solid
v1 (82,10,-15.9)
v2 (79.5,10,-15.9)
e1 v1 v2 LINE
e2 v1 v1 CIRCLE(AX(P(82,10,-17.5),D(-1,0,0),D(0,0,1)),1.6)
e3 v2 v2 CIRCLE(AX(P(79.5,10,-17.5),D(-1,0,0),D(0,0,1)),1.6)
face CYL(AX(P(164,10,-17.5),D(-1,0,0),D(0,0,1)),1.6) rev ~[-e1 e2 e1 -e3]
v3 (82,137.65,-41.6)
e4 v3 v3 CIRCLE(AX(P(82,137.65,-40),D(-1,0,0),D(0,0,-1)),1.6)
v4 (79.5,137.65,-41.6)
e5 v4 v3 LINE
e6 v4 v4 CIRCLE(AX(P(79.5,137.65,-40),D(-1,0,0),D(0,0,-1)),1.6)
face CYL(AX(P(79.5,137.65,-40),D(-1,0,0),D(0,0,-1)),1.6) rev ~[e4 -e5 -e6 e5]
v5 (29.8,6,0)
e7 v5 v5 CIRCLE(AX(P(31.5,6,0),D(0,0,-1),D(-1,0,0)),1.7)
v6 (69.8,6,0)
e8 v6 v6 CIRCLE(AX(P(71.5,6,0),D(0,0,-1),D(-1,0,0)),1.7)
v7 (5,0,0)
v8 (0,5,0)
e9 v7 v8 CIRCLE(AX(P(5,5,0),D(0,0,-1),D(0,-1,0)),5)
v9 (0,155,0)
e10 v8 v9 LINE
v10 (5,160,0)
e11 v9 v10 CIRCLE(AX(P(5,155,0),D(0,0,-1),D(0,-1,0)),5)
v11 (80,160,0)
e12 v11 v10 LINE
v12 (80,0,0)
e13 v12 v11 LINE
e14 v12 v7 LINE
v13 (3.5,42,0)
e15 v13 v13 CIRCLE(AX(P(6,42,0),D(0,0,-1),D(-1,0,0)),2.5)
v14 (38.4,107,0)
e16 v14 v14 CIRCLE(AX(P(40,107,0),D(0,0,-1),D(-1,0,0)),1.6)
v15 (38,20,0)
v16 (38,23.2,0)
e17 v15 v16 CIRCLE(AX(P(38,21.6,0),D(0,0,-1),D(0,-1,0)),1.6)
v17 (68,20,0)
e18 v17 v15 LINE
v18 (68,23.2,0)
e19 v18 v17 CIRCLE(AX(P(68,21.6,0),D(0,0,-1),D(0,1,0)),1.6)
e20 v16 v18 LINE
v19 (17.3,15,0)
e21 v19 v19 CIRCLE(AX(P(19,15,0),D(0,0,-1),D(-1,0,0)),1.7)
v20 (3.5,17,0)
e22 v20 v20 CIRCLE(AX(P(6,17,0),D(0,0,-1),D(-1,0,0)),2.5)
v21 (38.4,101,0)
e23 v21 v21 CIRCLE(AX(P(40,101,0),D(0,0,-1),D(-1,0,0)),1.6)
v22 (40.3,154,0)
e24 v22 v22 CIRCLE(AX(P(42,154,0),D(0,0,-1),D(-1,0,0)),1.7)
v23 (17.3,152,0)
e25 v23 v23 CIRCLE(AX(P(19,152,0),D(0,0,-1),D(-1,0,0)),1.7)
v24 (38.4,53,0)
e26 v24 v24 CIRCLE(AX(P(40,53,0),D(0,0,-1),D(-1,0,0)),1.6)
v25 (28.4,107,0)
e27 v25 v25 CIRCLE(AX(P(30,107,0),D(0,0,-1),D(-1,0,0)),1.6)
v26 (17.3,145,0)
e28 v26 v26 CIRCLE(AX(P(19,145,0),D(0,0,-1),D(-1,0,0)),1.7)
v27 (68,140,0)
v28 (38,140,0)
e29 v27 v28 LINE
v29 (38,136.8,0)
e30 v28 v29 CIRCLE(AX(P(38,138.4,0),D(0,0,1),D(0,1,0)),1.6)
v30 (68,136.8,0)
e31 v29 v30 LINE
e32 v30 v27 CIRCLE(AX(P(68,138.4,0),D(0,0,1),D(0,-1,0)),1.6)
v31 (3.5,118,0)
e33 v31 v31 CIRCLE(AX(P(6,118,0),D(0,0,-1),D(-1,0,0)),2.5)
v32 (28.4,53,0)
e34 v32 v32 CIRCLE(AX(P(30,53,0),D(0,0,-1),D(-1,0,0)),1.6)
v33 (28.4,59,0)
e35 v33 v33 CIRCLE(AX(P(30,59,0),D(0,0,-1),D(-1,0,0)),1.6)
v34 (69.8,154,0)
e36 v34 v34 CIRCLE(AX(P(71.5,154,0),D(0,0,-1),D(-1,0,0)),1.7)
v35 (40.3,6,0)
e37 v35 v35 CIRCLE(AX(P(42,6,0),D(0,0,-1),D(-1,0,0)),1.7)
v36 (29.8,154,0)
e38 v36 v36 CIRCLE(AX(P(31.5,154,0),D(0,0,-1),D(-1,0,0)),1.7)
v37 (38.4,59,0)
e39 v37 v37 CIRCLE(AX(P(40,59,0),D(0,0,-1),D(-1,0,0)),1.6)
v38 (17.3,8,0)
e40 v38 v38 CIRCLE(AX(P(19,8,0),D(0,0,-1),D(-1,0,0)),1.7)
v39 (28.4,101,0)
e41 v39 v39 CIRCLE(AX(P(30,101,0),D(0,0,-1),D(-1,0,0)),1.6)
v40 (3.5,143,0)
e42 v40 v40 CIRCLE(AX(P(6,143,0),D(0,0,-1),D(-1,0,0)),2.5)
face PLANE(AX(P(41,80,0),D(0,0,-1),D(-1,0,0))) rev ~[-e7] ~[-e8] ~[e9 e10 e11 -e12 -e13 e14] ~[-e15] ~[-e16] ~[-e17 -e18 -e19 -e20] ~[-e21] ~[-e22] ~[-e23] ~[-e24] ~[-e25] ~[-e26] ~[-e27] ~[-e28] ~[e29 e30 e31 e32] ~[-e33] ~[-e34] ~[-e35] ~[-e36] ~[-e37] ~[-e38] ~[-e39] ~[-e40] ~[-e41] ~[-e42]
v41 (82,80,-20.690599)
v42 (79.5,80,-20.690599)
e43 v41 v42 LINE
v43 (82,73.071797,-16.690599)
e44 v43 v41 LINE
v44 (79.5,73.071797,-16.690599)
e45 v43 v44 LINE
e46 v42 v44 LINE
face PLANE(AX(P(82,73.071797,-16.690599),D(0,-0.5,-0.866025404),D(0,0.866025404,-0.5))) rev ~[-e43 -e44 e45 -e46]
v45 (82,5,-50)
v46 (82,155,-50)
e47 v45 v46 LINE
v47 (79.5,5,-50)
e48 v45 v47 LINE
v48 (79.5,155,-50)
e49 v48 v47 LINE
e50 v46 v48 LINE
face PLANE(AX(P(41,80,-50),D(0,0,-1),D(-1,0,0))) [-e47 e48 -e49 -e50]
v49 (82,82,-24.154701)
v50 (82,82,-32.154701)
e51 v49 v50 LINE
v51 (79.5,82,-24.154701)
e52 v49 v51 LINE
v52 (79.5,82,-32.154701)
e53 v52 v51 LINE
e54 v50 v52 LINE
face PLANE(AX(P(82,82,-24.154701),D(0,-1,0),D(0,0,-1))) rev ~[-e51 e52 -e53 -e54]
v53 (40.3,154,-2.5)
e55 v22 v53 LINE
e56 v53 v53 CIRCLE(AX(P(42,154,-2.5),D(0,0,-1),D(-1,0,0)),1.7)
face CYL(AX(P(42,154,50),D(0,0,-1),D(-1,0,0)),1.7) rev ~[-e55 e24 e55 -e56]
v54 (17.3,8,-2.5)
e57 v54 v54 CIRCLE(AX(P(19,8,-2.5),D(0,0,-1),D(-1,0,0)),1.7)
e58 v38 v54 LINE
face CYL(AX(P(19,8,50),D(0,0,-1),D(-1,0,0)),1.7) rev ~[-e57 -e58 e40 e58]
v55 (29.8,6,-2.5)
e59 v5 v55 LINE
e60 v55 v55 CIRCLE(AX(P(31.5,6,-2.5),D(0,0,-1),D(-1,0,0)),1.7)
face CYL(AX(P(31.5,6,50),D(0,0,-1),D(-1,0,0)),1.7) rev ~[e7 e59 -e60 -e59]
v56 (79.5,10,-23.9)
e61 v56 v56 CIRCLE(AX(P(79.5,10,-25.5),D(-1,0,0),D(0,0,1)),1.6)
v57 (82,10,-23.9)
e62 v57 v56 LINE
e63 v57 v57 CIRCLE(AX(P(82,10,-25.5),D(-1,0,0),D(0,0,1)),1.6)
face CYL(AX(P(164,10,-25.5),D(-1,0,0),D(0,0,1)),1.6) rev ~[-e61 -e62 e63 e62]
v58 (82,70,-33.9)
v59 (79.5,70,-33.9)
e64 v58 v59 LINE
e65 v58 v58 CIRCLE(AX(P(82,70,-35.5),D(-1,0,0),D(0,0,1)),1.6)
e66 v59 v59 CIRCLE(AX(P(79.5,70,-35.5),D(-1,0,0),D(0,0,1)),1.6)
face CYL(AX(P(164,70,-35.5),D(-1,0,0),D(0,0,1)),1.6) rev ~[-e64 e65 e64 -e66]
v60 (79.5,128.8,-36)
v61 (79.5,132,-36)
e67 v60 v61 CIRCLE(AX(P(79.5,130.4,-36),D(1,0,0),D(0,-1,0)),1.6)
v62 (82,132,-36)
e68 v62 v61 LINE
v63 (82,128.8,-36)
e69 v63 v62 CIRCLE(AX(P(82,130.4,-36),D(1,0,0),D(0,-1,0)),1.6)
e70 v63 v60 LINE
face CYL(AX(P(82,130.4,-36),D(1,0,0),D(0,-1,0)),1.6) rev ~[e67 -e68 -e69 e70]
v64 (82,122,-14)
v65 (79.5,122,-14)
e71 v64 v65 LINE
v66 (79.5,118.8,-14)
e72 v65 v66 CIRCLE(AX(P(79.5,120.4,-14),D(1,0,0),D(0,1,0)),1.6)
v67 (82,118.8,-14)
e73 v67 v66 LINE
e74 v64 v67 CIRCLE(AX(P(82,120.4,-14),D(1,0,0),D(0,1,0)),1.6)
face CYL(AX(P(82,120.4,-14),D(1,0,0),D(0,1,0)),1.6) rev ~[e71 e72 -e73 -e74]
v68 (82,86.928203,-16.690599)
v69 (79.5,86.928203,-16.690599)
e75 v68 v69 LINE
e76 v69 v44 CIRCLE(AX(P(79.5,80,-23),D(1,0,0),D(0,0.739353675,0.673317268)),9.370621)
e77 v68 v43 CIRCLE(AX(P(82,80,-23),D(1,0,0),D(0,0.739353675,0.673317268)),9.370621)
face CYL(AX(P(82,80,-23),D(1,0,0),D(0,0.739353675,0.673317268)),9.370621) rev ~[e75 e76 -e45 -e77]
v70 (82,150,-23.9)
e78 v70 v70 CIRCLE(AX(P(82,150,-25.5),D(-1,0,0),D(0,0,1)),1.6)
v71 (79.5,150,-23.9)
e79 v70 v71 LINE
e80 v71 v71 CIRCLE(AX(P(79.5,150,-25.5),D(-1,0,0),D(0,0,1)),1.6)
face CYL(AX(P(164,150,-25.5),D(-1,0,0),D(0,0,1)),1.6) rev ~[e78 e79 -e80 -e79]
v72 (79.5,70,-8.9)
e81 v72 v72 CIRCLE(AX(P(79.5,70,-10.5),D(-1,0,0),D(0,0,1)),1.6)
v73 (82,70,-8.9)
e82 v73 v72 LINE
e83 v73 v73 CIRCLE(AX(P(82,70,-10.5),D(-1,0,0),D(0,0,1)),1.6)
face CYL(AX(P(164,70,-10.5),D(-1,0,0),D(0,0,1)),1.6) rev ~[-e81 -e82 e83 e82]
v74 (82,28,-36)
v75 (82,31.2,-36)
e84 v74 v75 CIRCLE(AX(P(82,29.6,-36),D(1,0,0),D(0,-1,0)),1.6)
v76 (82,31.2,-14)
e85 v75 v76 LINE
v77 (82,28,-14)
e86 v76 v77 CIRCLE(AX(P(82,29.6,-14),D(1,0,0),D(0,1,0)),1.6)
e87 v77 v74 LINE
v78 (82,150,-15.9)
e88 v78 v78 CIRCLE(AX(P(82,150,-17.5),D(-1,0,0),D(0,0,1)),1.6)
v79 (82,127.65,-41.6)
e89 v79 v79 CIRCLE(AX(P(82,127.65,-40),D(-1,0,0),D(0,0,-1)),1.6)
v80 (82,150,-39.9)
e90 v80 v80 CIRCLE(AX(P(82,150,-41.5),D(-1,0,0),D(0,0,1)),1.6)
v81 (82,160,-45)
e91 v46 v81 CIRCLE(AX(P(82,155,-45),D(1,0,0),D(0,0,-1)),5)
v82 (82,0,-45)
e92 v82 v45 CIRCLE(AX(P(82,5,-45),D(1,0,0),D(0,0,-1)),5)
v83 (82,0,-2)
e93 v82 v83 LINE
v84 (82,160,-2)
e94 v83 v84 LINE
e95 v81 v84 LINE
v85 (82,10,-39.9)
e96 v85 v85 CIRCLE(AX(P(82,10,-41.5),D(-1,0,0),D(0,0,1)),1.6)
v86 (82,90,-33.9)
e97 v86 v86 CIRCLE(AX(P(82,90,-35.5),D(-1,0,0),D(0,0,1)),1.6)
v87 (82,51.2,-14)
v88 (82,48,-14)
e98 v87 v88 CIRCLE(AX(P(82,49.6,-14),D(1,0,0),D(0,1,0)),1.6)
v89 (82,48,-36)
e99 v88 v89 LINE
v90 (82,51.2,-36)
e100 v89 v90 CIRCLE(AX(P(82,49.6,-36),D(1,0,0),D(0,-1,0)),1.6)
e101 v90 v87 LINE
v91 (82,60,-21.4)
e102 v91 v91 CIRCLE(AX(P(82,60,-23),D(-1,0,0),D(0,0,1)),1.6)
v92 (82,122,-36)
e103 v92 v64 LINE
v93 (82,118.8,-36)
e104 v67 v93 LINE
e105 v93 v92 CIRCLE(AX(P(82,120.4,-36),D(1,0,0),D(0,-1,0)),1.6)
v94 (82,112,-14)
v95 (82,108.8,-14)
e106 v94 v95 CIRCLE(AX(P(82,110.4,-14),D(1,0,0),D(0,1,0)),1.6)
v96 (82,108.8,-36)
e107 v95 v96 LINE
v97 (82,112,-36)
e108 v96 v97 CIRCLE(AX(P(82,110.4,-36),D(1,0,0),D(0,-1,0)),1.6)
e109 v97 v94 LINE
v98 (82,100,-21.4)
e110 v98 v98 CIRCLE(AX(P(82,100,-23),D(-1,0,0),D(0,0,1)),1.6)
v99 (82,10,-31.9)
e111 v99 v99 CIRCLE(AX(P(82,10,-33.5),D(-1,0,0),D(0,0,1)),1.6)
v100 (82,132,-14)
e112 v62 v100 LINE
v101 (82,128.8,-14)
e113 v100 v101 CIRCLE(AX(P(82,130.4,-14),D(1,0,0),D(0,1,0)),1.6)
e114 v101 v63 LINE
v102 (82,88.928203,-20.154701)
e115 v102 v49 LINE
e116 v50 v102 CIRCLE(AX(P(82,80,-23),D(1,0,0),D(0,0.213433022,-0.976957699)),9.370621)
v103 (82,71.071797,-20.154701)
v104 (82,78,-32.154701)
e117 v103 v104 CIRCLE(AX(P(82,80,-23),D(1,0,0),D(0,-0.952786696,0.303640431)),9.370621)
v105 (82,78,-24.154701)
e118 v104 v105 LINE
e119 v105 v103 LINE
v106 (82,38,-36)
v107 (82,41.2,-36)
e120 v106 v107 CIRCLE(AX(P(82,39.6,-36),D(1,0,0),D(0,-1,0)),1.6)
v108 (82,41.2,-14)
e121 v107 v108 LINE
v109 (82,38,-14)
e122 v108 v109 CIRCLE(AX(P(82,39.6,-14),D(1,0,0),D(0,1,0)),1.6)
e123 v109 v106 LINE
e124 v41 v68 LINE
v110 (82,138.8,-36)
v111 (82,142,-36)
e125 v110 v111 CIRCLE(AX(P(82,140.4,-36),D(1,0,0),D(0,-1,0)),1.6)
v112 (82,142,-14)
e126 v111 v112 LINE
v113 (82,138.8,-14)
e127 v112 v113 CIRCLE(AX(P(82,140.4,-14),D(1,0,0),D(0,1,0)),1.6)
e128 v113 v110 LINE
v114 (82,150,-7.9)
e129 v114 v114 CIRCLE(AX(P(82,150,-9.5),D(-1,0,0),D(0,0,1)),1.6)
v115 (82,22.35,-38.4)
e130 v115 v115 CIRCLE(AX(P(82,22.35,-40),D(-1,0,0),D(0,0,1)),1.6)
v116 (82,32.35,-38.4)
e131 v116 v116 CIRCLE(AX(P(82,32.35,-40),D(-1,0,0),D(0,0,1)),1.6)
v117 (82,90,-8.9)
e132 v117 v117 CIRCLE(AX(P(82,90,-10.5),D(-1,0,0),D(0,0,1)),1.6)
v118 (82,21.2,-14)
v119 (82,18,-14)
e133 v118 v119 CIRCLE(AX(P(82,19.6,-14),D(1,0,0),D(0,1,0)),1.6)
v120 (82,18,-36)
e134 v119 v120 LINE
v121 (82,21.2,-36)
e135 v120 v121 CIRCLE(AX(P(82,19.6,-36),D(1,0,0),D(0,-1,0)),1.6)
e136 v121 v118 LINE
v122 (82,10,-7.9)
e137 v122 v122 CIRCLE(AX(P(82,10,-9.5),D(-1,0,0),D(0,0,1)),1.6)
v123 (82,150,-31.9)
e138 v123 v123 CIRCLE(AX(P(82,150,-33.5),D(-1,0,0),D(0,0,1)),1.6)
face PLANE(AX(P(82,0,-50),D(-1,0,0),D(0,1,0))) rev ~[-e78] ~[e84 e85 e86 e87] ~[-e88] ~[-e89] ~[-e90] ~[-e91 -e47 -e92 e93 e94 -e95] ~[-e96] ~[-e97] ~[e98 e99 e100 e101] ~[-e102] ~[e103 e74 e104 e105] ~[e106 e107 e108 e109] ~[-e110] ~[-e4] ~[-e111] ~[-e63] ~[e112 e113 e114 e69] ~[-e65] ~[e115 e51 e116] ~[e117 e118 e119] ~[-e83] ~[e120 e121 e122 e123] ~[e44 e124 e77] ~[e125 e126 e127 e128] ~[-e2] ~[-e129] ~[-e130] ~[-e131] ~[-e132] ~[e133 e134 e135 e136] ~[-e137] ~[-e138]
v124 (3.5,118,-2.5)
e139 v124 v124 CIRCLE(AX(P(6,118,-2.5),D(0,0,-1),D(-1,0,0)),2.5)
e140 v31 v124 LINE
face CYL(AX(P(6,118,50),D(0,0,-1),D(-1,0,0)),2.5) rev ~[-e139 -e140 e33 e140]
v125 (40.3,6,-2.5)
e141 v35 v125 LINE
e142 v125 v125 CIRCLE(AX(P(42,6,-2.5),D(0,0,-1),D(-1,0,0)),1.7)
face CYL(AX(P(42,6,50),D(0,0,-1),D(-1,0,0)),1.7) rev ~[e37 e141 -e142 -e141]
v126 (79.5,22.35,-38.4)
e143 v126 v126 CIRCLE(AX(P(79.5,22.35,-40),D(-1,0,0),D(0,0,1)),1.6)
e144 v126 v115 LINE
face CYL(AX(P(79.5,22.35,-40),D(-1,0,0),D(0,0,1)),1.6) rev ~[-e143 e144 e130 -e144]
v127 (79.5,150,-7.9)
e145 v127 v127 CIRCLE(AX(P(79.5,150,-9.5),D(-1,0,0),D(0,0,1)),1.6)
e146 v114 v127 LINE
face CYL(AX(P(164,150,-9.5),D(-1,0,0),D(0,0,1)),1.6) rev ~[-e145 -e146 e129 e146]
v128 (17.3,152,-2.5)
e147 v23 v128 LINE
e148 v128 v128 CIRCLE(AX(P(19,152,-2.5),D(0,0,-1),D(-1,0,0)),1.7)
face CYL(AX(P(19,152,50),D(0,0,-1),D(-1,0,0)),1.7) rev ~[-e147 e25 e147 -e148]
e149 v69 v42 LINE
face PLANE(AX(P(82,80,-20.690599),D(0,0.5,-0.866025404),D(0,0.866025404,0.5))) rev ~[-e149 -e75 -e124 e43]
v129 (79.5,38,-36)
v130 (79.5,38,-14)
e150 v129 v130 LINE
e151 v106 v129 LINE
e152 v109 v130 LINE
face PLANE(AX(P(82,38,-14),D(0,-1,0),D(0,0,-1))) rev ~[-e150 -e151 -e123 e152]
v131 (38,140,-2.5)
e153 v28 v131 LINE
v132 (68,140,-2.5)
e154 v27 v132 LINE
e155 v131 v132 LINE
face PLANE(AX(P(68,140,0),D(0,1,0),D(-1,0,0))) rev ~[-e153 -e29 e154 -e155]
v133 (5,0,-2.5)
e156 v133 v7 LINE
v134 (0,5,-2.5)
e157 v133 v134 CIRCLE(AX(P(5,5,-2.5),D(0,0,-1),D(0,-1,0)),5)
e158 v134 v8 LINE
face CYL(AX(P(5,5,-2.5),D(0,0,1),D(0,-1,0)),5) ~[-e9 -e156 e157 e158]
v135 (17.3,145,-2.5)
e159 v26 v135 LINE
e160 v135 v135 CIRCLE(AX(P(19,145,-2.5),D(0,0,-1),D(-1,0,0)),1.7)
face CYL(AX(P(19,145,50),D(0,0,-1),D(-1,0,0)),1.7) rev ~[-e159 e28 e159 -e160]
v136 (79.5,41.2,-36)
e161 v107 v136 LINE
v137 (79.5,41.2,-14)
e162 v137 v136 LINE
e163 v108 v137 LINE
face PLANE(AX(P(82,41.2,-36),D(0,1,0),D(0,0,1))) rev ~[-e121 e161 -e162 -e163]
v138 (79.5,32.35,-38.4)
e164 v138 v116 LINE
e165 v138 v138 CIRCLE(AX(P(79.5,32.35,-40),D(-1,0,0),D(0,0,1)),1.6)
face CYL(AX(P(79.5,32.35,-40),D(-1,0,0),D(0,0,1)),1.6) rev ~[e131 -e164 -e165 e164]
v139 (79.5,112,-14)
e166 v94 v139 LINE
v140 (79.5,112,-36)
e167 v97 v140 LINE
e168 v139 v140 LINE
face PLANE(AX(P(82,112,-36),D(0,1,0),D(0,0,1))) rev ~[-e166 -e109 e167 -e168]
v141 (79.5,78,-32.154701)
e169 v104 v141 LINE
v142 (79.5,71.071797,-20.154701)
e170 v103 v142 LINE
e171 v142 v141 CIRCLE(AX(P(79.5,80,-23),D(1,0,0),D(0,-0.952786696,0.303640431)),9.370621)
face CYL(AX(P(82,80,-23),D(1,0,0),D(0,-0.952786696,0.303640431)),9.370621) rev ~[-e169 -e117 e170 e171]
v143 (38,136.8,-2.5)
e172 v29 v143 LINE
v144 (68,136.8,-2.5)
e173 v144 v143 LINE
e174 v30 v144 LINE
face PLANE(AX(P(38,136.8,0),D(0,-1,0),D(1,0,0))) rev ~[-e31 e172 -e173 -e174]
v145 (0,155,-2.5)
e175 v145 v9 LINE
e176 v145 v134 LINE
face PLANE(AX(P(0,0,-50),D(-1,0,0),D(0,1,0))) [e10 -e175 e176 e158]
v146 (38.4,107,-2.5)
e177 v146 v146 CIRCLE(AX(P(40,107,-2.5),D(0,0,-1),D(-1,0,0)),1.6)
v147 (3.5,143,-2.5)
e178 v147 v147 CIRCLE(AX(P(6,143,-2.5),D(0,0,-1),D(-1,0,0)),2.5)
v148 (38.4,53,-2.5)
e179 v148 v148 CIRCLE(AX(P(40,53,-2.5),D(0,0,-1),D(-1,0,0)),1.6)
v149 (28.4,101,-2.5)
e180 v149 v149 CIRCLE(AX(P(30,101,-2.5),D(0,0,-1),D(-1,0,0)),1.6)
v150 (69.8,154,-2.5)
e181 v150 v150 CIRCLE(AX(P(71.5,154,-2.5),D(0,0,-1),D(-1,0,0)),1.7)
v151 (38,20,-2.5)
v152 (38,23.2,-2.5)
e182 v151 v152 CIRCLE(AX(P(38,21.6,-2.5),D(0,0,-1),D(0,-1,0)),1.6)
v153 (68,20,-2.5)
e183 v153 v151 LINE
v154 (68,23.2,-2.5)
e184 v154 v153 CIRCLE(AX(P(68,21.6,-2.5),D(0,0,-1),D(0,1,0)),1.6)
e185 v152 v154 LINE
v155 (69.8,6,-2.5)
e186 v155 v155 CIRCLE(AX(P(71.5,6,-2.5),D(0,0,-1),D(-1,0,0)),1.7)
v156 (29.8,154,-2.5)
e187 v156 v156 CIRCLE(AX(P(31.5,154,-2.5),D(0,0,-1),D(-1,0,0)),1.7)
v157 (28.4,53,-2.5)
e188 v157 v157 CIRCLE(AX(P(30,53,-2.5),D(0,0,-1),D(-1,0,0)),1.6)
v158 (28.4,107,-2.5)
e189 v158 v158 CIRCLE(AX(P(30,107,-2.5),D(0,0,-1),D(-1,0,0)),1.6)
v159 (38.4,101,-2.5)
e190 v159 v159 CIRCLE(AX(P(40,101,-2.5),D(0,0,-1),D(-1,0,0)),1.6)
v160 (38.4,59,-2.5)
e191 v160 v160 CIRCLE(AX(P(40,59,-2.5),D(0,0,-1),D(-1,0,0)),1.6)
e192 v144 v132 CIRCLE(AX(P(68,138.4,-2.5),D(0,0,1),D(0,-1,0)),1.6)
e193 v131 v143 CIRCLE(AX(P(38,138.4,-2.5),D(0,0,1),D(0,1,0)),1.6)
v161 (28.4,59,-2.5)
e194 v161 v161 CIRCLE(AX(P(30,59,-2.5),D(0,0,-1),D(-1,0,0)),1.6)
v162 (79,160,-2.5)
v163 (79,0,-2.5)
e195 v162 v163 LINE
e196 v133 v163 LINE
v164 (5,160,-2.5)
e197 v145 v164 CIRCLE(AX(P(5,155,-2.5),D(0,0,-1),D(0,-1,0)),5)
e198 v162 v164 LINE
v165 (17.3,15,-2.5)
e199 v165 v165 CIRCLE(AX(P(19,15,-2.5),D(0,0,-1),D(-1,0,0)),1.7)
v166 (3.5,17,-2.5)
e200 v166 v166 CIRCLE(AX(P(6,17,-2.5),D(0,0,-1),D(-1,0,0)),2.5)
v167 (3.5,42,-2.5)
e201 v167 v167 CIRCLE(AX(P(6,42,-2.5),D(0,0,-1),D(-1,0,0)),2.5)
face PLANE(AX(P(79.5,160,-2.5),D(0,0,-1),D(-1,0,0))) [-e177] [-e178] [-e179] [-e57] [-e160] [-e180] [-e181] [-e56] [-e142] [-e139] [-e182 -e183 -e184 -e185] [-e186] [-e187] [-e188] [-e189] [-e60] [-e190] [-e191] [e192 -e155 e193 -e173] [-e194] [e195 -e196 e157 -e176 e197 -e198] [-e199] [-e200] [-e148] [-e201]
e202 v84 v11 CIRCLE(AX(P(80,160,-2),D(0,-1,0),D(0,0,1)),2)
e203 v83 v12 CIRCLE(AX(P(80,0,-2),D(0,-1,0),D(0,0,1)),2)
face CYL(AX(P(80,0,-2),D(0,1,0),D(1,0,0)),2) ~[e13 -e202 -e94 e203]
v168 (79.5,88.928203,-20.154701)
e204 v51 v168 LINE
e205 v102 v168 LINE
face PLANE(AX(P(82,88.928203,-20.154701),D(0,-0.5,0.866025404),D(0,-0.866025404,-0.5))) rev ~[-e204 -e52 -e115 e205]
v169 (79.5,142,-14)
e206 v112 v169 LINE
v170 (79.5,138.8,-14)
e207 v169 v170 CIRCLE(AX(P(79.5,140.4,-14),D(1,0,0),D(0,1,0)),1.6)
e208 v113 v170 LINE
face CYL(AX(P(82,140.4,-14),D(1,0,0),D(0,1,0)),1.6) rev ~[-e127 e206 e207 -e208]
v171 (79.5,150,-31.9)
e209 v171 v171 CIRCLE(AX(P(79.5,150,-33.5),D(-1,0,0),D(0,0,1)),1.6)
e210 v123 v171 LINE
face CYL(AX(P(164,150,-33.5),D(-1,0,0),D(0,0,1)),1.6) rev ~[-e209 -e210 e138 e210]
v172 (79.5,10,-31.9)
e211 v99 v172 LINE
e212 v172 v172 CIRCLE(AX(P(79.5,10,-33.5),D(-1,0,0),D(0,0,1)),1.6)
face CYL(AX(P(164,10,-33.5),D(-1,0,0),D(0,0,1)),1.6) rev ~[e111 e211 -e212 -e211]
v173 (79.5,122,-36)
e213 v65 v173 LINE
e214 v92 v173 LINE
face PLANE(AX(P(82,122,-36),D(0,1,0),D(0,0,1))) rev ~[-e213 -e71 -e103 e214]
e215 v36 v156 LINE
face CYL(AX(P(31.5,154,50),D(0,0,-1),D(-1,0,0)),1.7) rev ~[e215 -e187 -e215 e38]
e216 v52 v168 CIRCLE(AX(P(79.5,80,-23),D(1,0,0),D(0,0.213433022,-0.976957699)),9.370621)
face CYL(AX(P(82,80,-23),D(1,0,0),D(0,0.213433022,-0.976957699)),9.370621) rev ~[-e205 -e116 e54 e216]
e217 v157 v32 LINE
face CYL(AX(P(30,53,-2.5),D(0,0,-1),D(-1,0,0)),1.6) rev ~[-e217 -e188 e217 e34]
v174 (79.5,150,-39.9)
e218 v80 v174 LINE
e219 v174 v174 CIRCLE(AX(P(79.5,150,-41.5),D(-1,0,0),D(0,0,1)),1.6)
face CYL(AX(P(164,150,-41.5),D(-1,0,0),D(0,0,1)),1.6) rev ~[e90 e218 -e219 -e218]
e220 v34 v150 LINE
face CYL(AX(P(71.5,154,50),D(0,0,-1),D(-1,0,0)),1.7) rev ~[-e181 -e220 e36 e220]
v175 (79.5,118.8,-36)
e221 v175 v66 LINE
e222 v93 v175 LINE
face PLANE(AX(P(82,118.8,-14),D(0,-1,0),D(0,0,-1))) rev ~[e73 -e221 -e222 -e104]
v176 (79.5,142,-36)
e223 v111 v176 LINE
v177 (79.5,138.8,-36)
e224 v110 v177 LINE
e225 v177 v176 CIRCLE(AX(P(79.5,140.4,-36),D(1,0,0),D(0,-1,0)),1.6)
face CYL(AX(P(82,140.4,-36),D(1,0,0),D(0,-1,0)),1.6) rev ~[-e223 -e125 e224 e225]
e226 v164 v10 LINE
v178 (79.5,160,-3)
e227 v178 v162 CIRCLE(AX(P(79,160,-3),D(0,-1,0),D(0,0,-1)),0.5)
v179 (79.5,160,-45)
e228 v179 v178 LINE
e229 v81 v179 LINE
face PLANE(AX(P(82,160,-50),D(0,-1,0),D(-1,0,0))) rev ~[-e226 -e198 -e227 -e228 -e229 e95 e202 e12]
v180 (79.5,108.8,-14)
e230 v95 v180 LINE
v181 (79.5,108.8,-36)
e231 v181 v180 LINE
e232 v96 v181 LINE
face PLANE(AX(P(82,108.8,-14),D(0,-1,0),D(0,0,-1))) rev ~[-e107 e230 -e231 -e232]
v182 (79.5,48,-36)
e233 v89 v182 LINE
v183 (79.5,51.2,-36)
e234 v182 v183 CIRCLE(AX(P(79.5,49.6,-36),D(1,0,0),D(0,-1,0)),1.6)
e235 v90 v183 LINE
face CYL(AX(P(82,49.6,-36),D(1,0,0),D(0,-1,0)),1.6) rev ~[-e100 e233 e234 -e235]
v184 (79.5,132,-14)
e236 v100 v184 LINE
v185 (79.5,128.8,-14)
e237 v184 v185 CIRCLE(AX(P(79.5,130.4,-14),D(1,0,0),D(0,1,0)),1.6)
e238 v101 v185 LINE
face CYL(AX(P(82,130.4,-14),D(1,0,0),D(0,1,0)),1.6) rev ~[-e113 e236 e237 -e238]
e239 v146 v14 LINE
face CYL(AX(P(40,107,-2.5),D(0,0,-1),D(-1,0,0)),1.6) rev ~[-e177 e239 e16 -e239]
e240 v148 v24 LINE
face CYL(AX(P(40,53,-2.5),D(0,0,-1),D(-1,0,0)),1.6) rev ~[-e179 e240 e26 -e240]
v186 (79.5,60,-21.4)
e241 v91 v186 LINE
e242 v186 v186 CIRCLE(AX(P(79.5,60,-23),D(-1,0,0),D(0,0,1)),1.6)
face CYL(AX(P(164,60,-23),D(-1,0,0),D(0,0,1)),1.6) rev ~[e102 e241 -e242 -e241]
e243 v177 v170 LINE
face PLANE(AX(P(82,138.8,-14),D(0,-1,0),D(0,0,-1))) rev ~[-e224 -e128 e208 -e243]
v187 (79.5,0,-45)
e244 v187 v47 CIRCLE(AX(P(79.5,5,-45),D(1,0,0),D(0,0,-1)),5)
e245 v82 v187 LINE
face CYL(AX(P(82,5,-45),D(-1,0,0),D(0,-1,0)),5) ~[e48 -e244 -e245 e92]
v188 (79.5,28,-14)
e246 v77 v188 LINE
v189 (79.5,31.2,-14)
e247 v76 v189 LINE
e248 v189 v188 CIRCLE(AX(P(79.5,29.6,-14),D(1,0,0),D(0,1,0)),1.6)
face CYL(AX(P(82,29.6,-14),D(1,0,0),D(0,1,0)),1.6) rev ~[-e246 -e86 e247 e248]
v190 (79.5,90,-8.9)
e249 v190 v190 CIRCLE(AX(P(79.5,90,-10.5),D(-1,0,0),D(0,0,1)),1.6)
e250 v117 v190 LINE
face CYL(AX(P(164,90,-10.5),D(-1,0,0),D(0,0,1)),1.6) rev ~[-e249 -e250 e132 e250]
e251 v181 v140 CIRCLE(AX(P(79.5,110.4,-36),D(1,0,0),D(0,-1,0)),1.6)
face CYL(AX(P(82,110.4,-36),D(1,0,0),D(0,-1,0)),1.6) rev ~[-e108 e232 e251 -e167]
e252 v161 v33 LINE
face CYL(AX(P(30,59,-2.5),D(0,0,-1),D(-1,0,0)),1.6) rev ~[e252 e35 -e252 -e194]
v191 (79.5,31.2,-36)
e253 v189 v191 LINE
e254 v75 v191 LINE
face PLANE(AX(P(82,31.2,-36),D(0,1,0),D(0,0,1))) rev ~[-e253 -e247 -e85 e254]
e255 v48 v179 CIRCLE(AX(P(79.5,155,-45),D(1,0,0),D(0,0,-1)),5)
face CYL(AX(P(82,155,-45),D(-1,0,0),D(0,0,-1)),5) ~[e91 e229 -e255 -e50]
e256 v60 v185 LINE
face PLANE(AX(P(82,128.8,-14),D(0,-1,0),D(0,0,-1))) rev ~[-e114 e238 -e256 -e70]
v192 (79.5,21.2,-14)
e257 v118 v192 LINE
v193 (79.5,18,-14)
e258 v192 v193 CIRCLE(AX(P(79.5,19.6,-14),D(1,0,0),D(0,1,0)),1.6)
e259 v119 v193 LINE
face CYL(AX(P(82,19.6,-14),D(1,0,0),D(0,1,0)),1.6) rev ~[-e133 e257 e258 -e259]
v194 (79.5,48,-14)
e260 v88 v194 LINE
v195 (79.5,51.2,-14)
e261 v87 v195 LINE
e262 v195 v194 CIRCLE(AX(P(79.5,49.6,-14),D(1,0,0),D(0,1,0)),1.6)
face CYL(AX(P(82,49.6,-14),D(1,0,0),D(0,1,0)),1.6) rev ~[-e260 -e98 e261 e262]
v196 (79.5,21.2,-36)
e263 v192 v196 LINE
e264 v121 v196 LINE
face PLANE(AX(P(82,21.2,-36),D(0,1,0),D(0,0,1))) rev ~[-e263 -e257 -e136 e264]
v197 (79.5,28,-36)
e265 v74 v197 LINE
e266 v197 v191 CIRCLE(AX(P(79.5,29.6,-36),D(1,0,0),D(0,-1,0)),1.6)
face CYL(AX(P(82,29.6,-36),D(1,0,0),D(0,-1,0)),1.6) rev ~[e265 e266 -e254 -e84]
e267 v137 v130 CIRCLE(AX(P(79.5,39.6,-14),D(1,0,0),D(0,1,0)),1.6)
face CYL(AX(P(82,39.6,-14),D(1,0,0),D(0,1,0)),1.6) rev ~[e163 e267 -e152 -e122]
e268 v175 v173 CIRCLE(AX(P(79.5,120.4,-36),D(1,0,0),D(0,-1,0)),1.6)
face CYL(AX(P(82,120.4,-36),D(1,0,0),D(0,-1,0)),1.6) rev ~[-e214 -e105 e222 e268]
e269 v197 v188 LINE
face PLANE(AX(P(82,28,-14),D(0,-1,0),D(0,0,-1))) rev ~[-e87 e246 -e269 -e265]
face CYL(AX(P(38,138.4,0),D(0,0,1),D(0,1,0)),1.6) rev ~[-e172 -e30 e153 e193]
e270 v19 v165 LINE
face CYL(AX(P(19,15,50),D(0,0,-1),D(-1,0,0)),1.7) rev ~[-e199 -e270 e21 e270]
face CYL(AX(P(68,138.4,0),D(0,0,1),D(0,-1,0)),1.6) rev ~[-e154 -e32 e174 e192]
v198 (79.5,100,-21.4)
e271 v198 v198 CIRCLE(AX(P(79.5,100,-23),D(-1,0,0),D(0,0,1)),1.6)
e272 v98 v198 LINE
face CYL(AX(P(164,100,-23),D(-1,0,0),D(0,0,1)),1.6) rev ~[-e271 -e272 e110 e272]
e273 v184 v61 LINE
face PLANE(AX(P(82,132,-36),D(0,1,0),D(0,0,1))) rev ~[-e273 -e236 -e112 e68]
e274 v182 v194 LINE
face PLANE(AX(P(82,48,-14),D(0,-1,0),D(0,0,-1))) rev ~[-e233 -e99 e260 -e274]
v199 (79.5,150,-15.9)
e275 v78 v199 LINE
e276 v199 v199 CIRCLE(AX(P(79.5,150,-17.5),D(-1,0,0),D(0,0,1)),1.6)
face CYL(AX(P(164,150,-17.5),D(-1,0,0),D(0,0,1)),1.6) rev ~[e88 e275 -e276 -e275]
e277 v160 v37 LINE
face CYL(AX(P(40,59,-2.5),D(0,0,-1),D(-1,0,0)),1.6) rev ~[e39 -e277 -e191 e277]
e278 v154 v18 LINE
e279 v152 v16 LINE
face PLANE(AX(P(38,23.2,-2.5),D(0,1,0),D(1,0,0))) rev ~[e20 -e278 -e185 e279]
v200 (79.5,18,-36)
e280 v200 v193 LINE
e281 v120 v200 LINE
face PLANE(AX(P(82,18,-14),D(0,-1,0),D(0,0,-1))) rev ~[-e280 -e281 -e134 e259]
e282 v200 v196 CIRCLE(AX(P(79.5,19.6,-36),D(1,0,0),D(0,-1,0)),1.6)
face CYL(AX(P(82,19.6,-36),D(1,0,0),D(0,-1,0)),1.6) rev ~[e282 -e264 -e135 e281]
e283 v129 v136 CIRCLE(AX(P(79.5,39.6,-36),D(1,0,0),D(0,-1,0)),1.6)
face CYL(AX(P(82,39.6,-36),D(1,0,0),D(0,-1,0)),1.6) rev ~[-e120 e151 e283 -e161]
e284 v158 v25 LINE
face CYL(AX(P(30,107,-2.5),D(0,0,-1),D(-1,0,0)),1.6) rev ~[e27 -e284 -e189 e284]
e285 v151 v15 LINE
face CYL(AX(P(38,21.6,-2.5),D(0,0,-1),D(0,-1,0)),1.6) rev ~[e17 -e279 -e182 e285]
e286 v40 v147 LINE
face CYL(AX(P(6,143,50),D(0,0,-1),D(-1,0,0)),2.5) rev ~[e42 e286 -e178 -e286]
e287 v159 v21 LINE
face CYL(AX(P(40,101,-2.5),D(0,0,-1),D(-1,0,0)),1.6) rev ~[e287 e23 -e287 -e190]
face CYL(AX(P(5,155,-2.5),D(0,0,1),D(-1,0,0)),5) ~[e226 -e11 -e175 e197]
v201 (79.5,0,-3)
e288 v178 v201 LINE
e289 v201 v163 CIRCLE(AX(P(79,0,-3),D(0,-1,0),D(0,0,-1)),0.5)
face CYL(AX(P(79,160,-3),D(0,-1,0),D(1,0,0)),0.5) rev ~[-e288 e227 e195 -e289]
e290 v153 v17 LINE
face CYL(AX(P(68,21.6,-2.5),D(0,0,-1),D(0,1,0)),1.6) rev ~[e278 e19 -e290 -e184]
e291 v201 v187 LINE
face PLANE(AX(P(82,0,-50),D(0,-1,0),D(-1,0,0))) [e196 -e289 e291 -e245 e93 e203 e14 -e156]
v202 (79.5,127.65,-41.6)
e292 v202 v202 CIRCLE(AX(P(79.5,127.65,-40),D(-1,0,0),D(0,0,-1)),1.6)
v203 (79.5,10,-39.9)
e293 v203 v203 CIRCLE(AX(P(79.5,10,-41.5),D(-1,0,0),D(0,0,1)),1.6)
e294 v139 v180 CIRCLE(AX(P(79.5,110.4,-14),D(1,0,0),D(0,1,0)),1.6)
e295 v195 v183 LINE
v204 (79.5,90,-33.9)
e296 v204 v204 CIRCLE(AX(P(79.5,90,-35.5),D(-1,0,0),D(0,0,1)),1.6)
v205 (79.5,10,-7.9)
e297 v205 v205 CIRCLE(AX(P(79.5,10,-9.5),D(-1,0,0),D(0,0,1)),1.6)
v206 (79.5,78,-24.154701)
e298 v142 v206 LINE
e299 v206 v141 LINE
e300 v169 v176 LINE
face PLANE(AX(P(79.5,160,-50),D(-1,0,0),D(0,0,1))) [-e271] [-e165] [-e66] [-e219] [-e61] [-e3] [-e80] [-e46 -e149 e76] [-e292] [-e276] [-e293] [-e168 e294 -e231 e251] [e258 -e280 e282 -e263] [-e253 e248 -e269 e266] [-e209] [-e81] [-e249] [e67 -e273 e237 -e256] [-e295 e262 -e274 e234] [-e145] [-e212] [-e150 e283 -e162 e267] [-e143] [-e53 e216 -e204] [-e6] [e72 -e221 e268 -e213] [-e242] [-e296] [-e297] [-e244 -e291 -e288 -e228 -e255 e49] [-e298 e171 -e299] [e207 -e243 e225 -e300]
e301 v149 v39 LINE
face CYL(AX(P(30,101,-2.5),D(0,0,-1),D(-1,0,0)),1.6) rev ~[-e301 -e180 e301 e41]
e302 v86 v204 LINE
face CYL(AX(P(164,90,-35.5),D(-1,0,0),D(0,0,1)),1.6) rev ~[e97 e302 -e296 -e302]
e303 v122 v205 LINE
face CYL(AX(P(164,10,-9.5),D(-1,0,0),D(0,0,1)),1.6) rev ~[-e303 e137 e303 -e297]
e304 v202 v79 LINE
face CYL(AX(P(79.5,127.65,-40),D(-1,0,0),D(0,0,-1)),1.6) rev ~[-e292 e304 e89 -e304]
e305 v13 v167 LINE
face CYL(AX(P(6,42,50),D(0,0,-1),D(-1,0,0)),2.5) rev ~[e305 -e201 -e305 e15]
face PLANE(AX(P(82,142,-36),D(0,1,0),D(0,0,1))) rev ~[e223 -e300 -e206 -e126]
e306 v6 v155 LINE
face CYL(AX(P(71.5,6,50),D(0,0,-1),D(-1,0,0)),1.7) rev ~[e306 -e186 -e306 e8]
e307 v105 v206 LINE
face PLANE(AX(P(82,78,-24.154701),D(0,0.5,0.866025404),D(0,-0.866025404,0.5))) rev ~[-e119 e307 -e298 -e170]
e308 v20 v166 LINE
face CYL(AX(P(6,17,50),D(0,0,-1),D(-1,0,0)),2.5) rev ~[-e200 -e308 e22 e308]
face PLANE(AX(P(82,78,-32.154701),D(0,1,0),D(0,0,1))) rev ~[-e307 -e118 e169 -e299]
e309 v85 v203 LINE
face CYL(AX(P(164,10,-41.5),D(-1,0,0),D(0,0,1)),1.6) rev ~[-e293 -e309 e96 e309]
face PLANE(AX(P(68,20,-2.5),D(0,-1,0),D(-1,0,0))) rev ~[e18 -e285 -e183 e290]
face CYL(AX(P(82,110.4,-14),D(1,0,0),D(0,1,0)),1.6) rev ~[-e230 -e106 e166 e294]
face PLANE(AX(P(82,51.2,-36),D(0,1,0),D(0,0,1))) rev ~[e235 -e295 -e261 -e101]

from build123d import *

# Parameters (mm, degrees)
SKETCH_1_W                  = 82
SKETCH_1_H                  = 160
EXTRUDE_1_DEPTH             = 50
SKETCH_2_W                  = 79.5
SKETCH_2_H                  = 47.5
CUT_EXTRUDE_1_DEPTH         = 187.611896727
CUT_EXTRUDE_6_DEPTH         = 186.95765647
CUT_EXTRUDE_9_DEPTH         = 187.611896727
CUT_EXTRUDE_10_DEPTH        = 187.611896727
CUT_EXTRUDE_11_DEPTH        = 187.611896727
CUT_EXTRUDE_12_DEPTH        = 187.611896727
CUT_EXTRUDE_13_DEPTH        = 187.611896727
CUT_EXTRUDE_14_DEPTH        = 187.611896727
CUT_EXTRUDE_15_DEPTH        = 187.611896727
CUT_EXTRUDE_16_DEPTH        = 187.611896727
CUT_EXTRUDE_17_DEPTH        = 187.611896727
CUT_EXTRUDE_18_DEPTH        = 187.611896727
CUT_EXTRUDE_19_DEPTH        = 187.611896727
CUT_EXTRUDE_20_DEPTH        = 187.611896727
HOLE_WIZARD_3_4_3_4_1_D     = 3.4
HOLE_WIZARD_3_4_3_4_1_DEPTH = 50
HOLE_WIZARD_3_2_3_2_2_D     = 3.2
HOLE_WIZARD_3_2_3_2_2_DEPTH = 82
HOLE_WIZARD_5_0_5_1_D       = 5
HOLE_WIZARD_5_0_5_1_DEPTH   = 50
FILLET_1_R                  = 0.5
FILLET_2_R                  = 2
FILLET_3_R                  = 5
SKETCH_30_R                 = 1.6
CUT_EXTRUDE_21_DEPTH        = 10
SKETCH_31_R                 = 1.6
CUT_EXTRUDE_22_DEPTH        = 186.52695222


with BuildPart() as part:
    # 草图1 → 凸台-拉伸1 (new body)
    with BuildSketch(Plane(origin=(0, 0, -50), x_dir=(-1, 0, 0), z_dir=(0, 0, -1))):
        with Locations((-41, 80)):
            Rectangle(SKETCH_1_W, SKETCH_1_H)
    extrude(amount=-EXTRUDE_1_DEPTH)

    # 草图2 → 切除-拉伸1 (cut, through all)
    with BuildSketch(Plane(origin=(0, 160, 0), x_dir=(-1, 0, 0), z_dir=(0, 1, 0))):
        with Locations((-39.75, -26.25)):
            Rectangle(SKETCH_2_W, SKETCH_2_H)
    extrude(amount=-CUT_EXTRUDE_1_DEPTH, mode=Mode.SUBTRACT)

    # 草图7 → 切除-拉伸6 (cut, through all)
    with BuildSketch(Plane(origin=(0, 0, -2.5), x_dir=(-1, 0, 0), z_dir=(0, 0, -1))):
        with BuildLine():
            Line((-68, 20), (-38, 20))
            ThreePointArc((-38, 20), (-36.4, 21.6), (-38, 23.2))
            Line((-38, 23.2), (-68, 23.2))
            ThreePointArc((-68, 23.2), (-69.6, 21.6), (-68, 20))
        make_face()
    extrude(amount=-CUT_EXTRUDE_6_DEPTH, mode=Mode.SUBTRACT)

    # 草图10 → 切除-拉伸9 (cut, through all)
    with BuildSketch(Plane(origin=(82, 0, 0), x_dir=(0, 0, -1), z_dir=(1, 0, 0))):
        with BuildLine():
            Line((20.690598923, 80), (16.690598923, 86.92820323))
            ThreePointArc((16.690598923, 86.92820323), (13.629378785, 80), (16.690598923, 73.07179677))
            Line((16.690598923, 73.07179677), (20.690598923, 80))
        make_face()
    extrude(amount=-CUT_EXTRUDE_9_DEPTH, mode=Mode.SUBTRACT)

    # 草图11 → 切除-拉伸10 (cut, through all)
    with BuildSketch(Plane(origin=(82, 0, 0), x_dir=(0, 0, -1), z_dir=(1, 0, 0))):
        with BuildLine():
            Line((20.154700538, 88.92820323), (24.154700538, 82))
            Line((24.154700538, 82), (32.154700538, 82))
            ThreePointArc((32.154700538, 82), (27.685310607, 88.115196021), (20.154700538, 88.92820323))
        make_face()
    extrude(amount=-CUT_EXTRUDE_10_DEPTH, mode=Mode.SUBTRACT)

    # 草图12 → 切除-拉伸11 (cut, through all)
    with BuildSketch(Plane(origin=(82, 0, 0), x_dir=(0, 0, -1), z_dir=(1, 0, 0))):
        with BuildLine():
            Line((24.154700538, 78), (20.154700538, 71.07179677))
            ThreePointArc((20.154700538, 71.07179677), (27.685310607, 71.884803979), (32.154700538, 78))
            Line((32.154700538, 78), (24.154700538, 78))
        make_face()
    extrude(amount=-CUT_EXTRUDE_11_DEPTH, mode=Mode.SUBTRACT)

    # 草图13 → 切除-拉伸12 (cut, through all)
    with BuildSketch(Plane(origin=(82, 0, 0), x_dir=(0, 0, -1), z_dir=(1, 0, 0))):
        with BuildLine():
            Line((36, 21.2), (14, 21.2))
            ThreePointArc((14, 21.2), (12.4, 19.6), (14, 18))
            Line((14, 18), (36, 18))
            ThreePointArc((36, 18), (37.6, 19.6), (36, 21.2))
        make_face()
    extrude(amount=-CUT_EXTRUDE_12_DEPTH, mode=Mode.SUBTRACT)

    # 草图14 → 切除-拉伸13 (cut, through all)
    with BuildSketch(Plane(origin=(82, 0, 0), x_dir=(0, 0, -1), z_dir=(1, 0, 0))):
        with BuildLine():
            Line((36, 31.2), (14, 31.2))
            ThreePointArc((14, 31.2), (12.4, 29.6), (14, 28))
            Line((14, 28), (36, 28))
            ThreePointArc((36, 28), (37.6, 29.6), (36, 31.2))
        make_face()
    extrude(amount=-CUT_EXTRUDE_13_DEPTH, mode=Mode.SUBTRACT)

    # 草图15 → 切除-拉伸14 (cut, through all)
    with BuildSketch(Plane(origin=(82, 0, 0), x_dir=(0, 0, -1), z_dir=(1, 0, 0))):
        with BuildLine():
            Line((36, 41.2), (14, 41.2))
            ThreePointArc((14, 41.2), (12.4, 39.6), (14, 38))
            Line((14, 38), (36, 38))
            ThreePointArc((36, 38), (37.6, 39.6), (36, 41.2))
        make_face()
    extrude(amount=-CUT_EXTRUDE_14_DEPTH, mode=Mode.SUBTRACT)

    # 草图16 → 切除-拉伸15 (cut, through all)
    with BuildSketch(Plane(origin=(82, 0, 0), x_dir=(0, 0, -1), z_dir=(1, 0, 0))):
        with BuildLine():
            Line((36, 51.2), (14, 51.2))
            ThreePointArc((14, 51.2), (12.4, 49.6), (14, 48))
            Line((14, 48), (36, 48))
            ThreePointArc((36, 48), (37.6, 49.6), (36, 51.2))
        make_face()
    extrude(amount=-CUT_EXTRUDE_15_DEPTH, mode=Mode.SUBTRACT)

    # 草图17 → 切除-拉伸16 (cut, through all)
    with BuildSketch(Plane(origin=(82, 0, 0), x_dir=(0, 0, -1), z_dir=(1, 0, 0))):
        with BuildLine():
            Line((36, 112), (14, 112))
            ThreePointArc((14, 112), (12.4, 110.4), (14, 108.8))
            Line((14, 108.8), (36, 108.8))
            ThreePointArc((36, 108.8), (37.6, 110.4), (36, 112))
        make_face()
    extrude(amount=-CUT_EXTRUDE_16_DEPTH, mode=Mode.SUBTRACT)

    # 草图18 → 切除-拉伸17 (cut, through all)
    with BuildSketch(Plane(origin=(82, 0, 0), x_dir=(0, 0, -1), z_dir=(1, 0, 0))):
        with BuildLine():
            Line((36, 122), (14, 122))
            ThreePointArc((14, 122), (12.4, 120.4), (14, 118.8))
            Line((14, 118.8), (36, 118.8))
            ThreePointArc((36, 118.8), (37.6, 120.4), (36, 122))
        make_face()
    extrude(amount=-CUT_EXTRUDE_17_DEPTH, mode=Mode.SUBTRACT)

    # 草图19 → 切除-拉伸18 (cut, through all)
    with BuildSketch(Plane(origin=(82, 0, 0), x_dir=(0, 0, -1), z_dir=(1, 0, 0))):
        with BuildLine():
            Line((36, 132), (14, 132))
            ThreePointArc((14, 132), (12.4, 130.4), (14, 128.8))
            Line((14, 128.8), (36, 128.8))
            ThreePointArc((36, 128.8), (37.6, 130.4), (36, 132))
        make_face()
    extrude(amount=-CUT_EXTRUDE_18_DEPTH, mode=Mode.SUBTRACT)

    # 草图20 → 切除-拉伸19 (cut, through all)
    with BuildSketch(Plane(origin=(82, 0, 0), x_dir=(0, 0, -1), z_dir=(1, 0, 0))):
        with BuildLine():
            Line((36, 142), (14, 142))
            ThreePointArc((14, 142), (12.4, 140.4), (14, 138.8))
            Line((14, 138.8), (36, 138.8))
            ThreePointArc((36, 138.8), (37.6, 140.4), (36, 142))
        make_face()
    extrude(amount=-CUT_EXTRUDE_19_DEPTH, mode=Mode.SUBTRACT)

    # 草图21 → 切除-拉伸20 (cut, through all)
    with BuildSketch(Plane.XY):
        with BuildLine():
            Line((68, 140), (38, 140))
            ThreePointArc((38, 140), (36.4, 138.4), (38, 136.8))
            Line((38, 136.8), (68, 136.8))
            ThreePointArc((68, 136.8), (69.6, 138.4), (68, 140))
        make_face()
    extrude(amount=-CUT_EXTRUDE_20_DEPTH, mode=Mode.SUBTRACT)

    # Ø3.4 (3.4) 直径孔1
    with Locations(Plane.XY):
        with Locations((31.5, 154), (42, 154), (71.5, 154), (71.5, 6), (42, 6), (31.5, 6), (19, 8), (19, 15), (19, 145), (19, 152)):
            Hole(HOLE_WIZARD_3_4_3_4_1_D / 2, depth=HOLE_WIZARD_3_4_3_4_1_DEPTH)

    # Ø3.2 (3.2) 直径孔2
    with Locations(Plane(origin=(82, 0, 0), x_dir=(0, 0, -1), z_dir=(1, 0, 0))):
        with Locations((9.5, 150), (17.5, 150), (25.5, 150), (33.5, 150), (41.5, 150), (41.5, 10), (33.5, 10), (25.5, 10), (17.5, 10), (10.5, 90), (23, 100), (35.5, 90), (9.5, 10), (35.5, 70), (23, 60), (10.5, 70)):
            Hole(HOLE_WIZARD_3_2_3_2_2_D / 2, depth=HOLE_WIZARD_3_2_3_2_2_DEPTH)

    # Ø5.0 (5) 直径孔1
    with Locations(Plane.XY):
        with Locations((6, 17), (6, 42), (6, 118), (6, 143)):
            Hole(HOLE_WIZARD_5_0_5_1_D / 2, depth=HOLE_WIZARD_5_0_5_1_DEPTH)

    # 圆角1
    fillet_1_edges = [part.edges().sort_by_distance(p)[0] for p in [
        (79.5, 80, -2.5),
    ]]
    fillet(fillet_1_edges, radius=FILLET_1_R)

    # 圆角2
    fillet_2_edges = [part.edges().sort_by_distance(p)[0] for p in [
        (82, 80, 0),
    ]]
    fillet(fillet_2_edges, radius=FILLET_2_R)

    # 圆角3
    fillet_3_edges = [part.edges().sort_by_distance(p)[0] for p in [
        (80.75, 160, -50),
        (80.75, 0, -50),
        (0, 160, -1.25),
        (0, 0, -1.25),
    ]]
    fillet(fillet_3_edges, radius=FILLET_3_R)

    # 草图30 → 切除-拉伸21 (cut)
    with BuildSketch(Plane(origin=(0, 0, -2.5), x_dir=(-1, 0, 0), z_dir=(0, 0, -1))):
        with Locations((-40, 59)):
            Circle(SKETCH_30_R)
        with Locations((-40, 53)):
            Circle(SKETCH_30_R)
        with Locations((-30, 59)):
            Circle(SKETCH_30_R)
        with Locations((-30, 53)):
            Circle(SKETCH_30_R)
        with Locations((-40, 107)):
            Circle(SKETCH_30_R)
        with Locations((-30, 107)):
            Circle(SKETCH_30_R)
        with Locations((-30, 101)):
            Circle(SKETCH_30_R)
        with Locations((-40, 101)):
            Circle(SKETCH_30_R)
    extrude(amount=-CUT_EXTRUDE_21_DEPTH, mode=Mode.SUBTRACT)

    # 草图31 → 切除-拉伸22 (cut, through all)
    with BuildSketch(Plane.ZY.offset(-79.5)):
        with Locations((-40, 32.35)):
            Circle(SKETCH_31_R)
        with Locations((-40, 22.35)):
            Circle(SKETCH_31_R)
        with Locations(Location((-40, 137.65, 0), (0, 0, 180))):
            Circle(SKETCH_31_R)
        with Locations(Location((-40, 127.65, 0), (0, 0, 180))):
            Circle(SKETCH_31_R)
    extrude(amount=-CUT_EXTRUDE_22_DEPTH, mode=Mode.SUBTRACT)


solid = part.part
